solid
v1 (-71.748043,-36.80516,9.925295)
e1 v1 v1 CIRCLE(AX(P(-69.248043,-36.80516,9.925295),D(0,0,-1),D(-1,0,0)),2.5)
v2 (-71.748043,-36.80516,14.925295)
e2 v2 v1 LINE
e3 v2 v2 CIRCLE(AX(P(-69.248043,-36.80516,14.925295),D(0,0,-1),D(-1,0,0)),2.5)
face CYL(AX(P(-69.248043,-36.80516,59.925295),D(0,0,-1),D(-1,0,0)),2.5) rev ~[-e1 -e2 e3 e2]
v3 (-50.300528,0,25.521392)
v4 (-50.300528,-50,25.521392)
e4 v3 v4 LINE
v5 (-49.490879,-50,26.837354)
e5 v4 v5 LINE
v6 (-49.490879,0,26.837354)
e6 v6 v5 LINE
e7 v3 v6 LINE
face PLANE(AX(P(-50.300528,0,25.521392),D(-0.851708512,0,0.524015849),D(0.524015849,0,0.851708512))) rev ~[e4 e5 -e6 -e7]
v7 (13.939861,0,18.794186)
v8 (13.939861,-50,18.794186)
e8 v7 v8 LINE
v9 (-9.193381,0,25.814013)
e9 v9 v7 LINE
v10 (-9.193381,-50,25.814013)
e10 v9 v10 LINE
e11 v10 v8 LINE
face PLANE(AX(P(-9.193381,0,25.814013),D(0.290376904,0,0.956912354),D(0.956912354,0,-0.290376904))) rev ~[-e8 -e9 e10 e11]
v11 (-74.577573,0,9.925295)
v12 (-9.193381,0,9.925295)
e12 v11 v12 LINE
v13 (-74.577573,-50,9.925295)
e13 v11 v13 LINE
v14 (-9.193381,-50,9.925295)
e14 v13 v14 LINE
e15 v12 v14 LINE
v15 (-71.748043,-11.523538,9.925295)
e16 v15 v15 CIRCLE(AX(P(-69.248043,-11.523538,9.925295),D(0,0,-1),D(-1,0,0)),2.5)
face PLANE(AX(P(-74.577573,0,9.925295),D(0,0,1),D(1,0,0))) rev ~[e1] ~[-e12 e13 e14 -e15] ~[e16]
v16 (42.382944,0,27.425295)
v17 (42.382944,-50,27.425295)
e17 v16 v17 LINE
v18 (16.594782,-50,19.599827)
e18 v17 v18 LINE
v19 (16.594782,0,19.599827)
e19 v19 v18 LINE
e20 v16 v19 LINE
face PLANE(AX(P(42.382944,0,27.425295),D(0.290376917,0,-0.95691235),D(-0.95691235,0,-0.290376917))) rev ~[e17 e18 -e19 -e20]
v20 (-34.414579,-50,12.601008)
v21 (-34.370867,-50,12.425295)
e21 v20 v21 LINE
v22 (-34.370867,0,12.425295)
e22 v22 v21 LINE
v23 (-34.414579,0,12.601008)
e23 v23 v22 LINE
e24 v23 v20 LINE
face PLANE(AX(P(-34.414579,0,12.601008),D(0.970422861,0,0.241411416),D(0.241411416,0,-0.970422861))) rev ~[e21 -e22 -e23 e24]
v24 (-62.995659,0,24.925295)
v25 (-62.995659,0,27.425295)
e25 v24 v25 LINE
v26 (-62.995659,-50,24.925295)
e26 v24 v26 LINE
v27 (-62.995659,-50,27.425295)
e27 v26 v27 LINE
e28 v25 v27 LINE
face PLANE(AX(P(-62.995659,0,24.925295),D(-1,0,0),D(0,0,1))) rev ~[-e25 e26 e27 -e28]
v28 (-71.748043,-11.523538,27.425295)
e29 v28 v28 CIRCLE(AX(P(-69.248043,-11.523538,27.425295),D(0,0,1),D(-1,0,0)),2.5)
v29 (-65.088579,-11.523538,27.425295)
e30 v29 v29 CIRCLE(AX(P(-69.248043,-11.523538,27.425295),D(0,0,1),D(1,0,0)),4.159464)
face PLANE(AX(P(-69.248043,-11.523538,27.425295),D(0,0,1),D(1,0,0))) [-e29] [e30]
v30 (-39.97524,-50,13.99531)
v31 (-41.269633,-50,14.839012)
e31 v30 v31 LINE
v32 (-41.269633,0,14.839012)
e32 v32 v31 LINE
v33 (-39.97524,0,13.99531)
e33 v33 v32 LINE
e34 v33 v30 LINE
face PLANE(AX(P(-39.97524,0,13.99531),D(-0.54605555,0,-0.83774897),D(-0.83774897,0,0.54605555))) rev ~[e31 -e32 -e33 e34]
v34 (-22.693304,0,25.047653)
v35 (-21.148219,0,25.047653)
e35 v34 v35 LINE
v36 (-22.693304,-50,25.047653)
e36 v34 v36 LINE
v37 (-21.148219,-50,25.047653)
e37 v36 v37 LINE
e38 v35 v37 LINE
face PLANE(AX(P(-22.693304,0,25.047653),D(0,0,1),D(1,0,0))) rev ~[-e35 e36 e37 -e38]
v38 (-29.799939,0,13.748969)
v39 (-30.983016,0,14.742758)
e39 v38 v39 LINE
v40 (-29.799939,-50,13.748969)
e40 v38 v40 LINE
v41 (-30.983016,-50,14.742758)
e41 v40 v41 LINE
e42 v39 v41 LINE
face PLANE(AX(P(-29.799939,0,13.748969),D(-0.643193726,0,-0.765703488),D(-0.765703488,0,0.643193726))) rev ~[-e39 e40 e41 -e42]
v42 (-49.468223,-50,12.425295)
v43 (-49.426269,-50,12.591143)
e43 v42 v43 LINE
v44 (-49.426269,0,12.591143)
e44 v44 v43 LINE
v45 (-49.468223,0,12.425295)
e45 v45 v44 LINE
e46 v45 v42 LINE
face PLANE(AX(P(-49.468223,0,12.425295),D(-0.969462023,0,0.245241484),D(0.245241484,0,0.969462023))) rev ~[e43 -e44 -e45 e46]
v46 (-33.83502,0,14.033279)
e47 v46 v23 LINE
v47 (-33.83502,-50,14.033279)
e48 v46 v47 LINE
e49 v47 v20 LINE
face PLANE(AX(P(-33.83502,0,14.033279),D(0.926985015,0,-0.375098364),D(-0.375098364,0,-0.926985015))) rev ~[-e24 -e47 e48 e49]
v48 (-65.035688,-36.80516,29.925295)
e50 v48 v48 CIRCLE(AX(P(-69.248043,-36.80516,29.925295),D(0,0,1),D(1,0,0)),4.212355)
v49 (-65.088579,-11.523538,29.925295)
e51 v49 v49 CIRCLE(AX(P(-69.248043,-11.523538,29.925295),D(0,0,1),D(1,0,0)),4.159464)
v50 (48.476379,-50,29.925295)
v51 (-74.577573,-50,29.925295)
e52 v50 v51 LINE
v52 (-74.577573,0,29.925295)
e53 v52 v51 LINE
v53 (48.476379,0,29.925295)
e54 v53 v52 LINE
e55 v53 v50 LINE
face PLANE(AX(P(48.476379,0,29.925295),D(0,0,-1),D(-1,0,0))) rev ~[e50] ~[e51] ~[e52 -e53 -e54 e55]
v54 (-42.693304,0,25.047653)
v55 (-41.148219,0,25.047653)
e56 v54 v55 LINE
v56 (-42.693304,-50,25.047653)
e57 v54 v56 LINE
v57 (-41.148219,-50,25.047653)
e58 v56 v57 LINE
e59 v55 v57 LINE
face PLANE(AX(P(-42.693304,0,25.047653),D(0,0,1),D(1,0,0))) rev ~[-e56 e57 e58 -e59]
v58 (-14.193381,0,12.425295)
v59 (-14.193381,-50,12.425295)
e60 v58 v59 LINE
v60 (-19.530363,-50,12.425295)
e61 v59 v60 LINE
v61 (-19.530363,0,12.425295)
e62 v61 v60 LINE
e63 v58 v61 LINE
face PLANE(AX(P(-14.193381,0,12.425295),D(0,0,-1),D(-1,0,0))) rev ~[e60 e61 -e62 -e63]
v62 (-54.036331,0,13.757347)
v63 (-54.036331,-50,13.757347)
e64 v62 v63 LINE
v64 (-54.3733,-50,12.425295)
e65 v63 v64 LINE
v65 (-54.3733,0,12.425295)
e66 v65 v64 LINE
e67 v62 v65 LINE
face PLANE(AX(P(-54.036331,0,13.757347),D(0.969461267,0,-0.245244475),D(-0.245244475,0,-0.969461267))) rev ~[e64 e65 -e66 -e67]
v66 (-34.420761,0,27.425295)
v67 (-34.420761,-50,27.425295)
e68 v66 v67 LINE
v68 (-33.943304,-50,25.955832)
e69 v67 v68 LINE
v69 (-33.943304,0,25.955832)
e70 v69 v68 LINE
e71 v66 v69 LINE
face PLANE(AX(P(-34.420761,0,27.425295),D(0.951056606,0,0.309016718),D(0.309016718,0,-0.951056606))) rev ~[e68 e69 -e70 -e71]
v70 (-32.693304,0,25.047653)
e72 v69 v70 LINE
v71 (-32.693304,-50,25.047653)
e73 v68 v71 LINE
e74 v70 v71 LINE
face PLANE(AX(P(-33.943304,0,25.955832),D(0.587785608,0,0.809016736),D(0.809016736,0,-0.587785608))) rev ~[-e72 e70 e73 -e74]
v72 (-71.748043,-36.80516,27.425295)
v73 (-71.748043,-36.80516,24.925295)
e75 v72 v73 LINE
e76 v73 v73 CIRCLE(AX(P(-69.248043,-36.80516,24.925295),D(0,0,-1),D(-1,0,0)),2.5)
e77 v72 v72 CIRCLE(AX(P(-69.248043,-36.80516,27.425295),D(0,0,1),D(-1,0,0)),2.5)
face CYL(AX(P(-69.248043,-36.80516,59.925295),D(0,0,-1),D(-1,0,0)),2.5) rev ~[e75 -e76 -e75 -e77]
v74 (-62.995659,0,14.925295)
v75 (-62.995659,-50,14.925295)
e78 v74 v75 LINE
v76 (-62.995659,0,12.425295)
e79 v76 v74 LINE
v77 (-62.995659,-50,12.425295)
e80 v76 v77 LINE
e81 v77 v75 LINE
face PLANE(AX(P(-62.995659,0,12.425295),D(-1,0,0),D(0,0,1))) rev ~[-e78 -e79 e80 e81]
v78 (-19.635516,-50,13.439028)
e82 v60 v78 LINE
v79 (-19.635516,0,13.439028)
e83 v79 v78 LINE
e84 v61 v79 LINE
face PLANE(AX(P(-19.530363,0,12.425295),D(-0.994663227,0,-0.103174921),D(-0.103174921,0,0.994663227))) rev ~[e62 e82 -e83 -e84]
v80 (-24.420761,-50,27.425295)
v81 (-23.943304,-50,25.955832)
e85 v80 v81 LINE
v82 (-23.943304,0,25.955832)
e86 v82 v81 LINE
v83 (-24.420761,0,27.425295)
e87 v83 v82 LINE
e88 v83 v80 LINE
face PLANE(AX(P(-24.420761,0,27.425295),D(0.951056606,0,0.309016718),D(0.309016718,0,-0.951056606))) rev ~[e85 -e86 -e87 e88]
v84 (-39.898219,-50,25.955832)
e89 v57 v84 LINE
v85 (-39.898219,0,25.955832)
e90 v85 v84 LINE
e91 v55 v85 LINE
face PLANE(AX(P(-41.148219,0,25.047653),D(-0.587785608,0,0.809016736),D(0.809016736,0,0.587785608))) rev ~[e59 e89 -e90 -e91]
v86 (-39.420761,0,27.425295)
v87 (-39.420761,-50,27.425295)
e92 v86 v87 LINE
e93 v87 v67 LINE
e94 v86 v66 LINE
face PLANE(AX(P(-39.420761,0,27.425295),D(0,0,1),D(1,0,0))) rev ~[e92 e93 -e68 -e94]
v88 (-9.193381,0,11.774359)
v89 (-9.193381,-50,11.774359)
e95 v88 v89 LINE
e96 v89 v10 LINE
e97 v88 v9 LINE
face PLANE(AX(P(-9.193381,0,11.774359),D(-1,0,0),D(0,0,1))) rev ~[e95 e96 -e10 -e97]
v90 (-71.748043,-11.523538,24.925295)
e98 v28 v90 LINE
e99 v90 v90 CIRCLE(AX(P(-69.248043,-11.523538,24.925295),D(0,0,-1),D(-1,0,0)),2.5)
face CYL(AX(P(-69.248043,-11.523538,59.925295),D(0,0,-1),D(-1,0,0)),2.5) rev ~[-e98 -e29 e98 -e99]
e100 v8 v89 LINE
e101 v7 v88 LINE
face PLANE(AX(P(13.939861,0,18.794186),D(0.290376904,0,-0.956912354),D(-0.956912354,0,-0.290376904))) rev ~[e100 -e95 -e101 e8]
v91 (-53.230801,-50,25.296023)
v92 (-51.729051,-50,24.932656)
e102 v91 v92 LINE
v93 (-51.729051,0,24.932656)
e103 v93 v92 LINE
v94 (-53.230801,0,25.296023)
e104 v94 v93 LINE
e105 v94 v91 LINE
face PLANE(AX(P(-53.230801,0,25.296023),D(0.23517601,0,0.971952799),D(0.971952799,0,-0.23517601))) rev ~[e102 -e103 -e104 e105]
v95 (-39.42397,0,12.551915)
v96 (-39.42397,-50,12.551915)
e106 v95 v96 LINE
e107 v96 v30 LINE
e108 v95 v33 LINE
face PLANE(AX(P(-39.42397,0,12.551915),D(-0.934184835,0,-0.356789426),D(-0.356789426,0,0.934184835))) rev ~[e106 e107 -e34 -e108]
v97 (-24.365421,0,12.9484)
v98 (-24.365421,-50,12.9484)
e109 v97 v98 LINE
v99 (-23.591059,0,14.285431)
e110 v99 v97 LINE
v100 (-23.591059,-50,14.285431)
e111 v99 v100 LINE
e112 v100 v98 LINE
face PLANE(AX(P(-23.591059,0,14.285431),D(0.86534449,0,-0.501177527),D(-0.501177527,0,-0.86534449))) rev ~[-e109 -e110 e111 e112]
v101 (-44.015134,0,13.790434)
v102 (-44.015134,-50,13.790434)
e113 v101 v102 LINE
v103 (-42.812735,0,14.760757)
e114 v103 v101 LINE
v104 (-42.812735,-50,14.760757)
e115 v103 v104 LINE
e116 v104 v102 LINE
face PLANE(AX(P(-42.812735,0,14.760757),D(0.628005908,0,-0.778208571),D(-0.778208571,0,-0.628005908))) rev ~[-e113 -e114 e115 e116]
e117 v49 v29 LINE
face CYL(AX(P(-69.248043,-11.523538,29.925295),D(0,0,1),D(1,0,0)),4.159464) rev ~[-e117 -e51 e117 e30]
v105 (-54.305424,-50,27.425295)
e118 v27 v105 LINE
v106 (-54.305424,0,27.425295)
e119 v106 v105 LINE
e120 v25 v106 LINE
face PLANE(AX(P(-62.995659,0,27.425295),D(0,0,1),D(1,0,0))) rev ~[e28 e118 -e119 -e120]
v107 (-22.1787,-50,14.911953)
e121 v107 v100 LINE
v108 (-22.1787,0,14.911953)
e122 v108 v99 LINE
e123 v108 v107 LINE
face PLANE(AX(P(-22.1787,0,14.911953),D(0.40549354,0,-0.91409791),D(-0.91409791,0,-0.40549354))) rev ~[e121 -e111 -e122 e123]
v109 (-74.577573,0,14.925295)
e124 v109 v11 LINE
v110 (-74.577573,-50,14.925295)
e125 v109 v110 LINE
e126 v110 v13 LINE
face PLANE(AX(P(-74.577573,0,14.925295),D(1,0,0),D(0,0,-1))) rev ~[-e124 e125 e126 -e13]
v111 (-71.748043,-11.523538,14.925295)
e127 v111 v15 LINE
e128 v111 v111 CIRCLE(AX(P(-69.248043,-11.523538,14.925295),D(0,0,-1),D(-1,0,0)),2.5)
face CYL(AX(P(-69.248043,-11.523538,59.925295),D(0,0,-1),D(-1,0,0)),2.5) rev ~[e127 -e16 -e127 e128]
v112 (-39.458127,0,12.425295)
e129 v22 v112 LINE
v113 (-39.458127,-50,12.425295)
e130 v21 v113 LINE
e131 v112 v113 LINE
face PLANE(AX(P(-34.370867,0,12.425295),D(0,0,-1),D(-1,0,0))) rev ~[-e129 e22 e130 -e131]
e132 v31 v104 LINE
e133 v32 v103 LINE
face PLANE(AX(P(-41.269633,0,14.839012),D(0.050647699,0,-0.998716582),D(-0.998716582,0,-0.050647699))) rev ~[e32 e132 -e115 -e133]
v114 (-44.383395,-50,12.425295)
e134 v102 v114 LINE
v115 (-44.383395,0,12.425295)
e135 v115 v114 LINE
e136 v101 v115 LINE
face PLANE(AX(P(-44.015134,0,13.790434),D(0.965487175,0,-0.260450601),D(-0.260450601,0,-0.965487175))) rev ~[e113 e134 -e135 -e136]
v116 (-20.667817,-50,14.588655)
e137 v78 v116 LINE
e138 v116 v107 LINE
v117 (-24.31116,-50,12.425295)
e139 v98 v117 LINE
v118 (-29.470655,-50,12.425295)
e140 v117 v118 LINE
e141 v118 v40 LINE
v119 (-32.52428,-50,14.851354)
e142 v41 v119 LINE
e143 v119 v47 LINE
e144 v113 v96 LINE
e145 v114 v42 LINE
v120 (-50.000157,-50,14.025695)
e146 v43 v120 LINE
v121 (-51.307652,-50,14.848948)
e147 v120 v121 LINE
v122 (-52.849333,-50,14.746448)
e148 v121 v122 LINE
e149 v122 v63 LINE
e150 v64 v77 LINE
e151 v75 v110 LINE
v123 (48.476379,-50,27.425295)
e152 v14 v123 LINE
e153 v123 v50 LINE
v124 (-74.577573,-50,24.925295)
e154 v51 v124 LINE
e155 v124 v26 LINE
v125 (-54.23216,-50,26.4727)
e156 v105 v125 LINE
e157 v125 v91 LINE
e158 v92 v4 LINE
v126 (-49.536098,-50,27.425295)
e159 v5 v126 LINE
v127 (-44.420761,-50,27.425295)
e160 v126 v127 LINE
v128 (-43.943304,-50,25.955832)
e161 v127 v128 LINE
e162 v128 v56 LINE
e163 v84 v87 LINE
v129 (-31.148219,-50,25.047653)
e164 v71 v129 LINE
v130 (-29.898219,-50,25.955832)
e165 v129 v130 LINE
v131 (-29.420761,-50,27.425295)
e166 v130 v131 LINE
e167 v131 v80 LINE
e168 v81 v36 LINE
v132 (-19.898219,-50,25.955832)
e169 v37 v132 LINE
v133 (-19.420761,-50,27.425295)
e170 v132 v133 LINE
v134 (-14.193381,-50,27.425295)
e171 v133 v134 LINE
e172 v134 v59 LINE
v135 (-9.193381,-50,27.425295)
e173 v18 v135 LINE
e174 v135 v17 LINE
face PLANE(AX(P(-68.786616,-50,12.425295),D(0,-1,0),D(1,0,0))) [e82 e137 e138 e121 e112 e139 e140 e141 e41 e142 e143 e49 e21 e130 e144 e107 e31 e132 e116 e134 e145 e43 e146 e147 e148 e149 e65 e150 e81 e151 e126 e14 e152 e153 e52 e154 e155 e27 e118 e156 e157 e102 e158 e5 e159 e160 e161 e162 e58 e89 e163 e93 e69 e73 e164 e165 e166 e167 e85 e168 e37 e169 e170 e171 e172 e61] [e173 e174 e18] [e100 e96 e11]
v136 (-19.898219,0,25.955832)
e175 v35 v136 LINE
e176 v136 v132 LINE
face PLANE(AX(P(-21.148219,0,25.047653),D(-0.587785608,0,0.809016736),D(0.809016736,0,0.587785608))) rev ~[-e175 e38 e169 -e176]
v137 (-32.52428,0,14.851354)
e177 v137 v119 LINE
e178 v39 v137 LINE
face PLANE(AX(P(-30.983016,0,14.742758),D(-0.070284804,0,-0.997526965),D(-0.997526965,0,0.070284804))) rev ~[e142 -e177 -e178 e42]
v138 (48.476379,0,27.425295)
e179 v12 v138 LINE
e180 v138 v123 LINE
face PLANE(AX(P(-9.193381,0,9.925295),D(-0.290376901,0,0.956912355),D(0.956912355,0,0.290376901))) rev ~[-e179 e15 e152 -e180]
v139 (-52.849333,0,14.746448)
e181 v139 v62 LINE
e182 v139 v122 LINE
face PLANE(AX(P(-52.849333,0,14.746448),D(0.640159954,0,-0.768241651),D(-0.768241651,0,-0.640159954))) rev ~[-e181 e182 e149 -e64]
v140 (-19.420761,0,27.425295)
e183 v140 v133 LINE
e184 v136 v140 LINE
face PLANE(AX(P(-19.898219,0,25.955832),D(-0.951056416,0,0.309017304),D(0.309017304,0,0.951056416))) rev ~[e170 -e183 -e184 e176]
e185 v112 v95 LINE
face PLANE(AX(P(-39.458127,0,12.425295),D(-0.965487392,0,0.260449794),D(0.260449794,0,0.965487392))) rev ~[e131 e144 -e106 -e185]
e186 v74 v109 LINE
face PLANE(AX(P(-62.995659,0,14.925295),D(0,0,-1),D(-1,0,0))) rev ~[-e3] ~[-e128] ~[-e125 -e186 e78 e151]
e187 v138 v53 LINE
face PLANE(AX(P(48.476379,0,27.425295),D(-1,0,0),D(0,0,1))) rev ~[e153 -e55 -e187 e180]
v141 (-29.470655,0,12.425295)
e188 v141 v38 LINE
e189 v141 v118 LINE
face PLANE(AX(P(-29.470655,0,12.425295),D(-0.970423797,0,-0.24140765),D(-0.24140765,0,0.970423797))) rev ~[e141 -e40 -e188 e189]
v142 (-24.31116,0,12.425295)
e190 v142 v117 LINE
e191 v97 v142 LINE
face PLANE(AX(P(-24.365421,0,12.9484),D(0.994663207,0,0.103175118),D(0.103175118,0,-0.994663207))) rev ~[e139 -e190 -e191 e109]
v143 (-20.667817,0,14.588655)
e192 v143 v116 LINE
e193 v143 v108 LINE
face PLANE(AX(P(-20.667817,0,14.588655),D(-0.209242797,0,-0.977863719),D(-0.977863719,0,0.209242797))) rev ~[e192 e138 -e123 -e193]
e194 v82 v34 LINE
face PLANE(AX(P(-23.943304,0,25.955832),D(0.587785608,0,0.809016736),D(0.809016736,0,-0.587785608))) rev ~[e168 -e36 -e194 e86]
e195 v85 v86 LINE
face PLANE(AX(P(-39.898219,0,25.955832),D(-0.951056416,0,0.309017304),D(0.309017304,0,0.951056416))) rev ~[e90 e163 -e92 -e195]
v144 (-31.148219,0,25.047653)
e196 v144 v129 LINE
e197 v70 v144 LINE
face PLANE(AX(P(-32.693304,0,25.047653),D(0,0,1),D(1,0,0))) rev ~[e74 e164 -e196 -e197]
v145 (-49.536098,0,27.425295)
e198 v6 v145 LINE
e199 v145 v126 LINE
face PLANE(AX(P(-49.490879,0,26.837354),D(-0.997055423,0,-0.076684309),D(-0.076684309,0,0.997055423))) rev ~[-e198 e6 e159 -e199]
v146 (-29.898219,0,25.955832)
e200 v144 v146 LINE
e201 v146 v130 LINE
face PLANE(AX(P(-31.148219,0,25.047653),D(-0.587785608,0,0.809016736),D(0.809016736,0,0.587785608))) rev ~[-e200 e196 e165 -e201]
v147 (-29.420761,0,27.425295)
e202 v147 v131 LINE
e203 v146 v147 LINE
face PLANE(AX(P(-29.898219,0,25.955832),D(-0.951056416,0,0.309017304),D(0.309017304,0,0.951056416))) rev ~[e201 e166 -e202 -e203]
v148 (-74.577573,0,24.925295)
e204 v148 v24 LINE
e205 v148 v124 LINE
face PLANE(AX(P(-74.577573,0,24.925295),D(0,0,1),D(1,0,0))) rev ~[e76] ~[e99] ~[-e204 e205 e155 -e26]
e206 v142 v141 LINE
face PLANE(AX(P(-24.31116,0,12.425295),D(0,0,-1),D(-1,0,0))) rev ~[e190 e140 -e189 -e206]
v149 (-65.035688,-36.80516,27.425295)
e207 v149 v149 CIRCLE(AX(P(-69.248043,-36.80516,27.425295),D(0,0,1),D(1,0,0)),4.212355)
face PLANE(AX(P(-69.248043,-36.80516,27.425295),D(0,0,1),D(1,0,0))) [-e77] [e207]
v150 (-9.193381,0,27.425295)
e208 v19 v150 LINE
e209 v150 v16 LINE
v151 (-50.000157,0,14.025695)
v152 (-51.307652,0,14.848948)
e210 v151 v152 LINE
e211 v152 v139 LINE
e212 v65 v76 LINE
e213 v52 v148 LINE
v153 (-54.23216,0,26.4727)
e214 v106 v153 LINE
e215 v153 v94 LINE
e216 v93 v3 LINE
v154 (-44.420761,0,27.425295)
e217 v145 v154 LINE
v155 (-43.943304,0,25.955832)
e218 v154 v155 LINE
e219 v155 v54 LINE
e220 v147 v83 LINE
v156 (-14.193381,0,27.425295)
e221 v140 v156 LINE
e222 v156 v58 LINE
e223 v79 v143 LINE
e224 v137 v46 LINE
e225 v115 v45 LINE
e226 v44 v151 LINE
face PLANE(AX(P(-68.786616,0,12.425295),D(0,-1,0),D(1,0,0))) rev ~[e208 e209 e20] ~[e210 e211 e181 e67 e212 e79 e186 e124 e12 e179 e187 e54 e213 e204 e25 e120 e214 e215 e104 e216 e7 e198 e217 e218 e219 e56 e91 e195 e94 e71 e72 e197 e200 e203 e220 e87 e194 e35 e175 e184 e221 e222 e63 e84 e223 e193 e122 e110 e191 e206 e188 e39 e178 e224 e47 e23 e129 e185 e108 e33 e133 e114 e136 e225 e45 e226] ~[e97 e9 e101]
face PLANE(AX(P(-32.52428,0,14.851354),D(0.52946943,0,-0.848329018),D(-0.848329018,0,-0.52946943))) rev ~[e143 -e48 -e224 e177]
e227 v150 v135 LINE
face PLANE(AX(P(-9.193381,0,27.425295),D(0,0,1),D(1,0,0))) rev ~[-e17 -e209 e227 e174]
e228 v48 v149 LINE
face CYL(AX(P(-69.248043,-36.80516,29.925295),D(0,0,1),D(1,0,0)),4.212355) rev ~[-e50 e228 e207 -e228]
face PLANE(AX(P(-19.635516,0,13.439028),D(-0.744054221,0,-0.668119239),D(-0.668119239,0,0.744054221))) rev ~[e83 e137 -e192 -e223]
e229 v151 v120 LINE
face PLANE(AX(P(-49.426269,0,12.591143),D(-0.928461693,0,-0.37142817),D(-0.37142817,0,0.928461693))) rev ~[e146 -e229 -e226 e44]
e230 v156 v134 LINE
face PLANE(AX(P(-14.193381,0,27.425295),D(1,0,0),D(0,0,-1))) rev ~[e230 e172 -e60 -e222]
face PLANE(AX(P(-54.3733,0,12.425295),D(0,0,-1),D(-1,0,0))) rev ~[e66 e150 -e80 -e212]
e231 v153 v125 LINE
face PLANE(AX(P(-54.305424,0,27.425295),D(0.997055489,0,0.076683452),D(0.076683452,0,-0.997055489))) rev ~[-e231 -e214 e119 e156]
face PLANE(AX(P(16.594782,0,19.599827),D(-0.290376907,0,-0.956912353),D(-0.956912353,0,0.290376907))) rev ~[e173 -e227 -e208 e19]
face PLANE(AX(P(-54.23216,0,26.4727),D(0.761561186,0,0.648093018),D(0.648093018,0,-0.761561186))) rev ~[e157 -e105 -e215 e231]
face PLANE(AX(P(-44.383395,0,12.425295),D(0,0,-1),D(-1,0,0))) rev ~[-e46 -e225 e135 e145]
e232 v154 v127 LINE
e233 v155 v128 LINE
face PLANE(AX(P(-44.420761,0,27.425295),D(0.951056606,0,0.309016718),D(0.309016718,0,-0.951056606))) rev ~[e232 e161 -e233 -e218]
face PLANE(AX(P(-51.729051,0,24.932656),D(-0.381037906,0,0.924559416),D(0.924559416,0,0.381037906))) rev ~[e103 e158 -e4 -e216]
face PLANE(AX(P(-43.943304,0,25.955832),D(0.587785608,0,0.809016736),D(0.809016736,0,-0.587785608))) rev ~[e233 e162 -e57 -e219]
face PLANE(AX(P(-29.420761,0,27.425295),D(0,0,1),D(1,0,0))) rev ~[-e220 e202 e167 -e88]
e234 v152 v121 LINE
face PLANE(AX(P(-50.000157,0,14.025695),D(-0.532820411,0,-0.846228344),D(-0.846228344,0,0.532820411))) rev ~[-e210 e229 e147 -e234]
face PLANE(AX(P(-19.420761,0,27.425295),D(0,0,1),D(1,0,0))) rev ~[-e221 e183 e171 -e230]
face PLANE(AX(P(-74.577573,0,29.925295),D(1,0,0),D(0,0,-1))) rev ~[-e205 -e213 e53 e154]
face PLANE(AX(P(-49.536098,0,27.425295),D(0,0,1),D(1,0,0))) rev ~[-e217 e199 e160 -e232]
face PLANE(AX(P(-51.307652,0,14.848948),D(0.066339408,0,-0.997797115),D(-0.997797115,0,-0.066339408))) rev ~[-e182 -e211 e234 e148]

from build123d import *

# Parameters (mm, degrees)
F1_DEPTH = 50
F3_D     = 5
F3_DEPTH = 30
F4_R     = 4.159464
F4_R_2   = 2.5
F4_R_3   = 4.212355
F5_DEPTH = 2.5


with BuildPart() as f1:
    # F0 (on Front) → F1 (new body)
    with BuildSketch(Plane.XZ):
        Polygon((-74.577573, 9.925295), (-62.995659, 9.925295), (-62.995659, 12.425295), (-62.995659, 14.925295), (-74.577573, 14.925295), align=None)
        Polygon((-62.995659, 29.925295), (-74.577573, 29.925295), (-74.577573, 24.925295), (-62.995659, 24.925295), (-62.995659, 27.425295), align=None)
        Polygon((-49.536098, 27.425295), (-54.305424, 27.425295), (-54.23216, 26.4727), (-53.230801, 25.296023), (-51.729051, 24.932656), (-50.300528, 25.521392), (-49.490879, 26.837354), align=None)
        Polygon((-14.193381, 29.925295), (-62.995659, 29.925295), (-62.995659, 27.425295), (-54.305424, 27.425295), (-54.350643, 28.013235), (-53.540994, 29.329197), (-52.112471, 29.917933), (-50.610722, 29.554566), (-49.609363, 28.37789), (-49.536098, 27.425295), (-44.420761, 27.425295), (-43.943304, 28.894758), (-42.693304, 29.802936), (-41.148219, 29.802936), (-39.898219, 28.894758), (-39.420761, 27.425295), (-34.420761, 27.425295), (-33.943304, 28.894758), (-32.693304, 29.802936), (-31.148219, 29.802936), (-29.898219, 28.894758), (-29.420761, 27.425295), (-24.420761, 27.425295), (-23.943304, 28.894758), (-22.693304, 29.802936), (-21.148219, 29.802936), (-19.898219, 28.894758), (-19.420761, 27.425295), (-14.193381, 27.425295), align=None)
        Polygon((-54.350643, 28.013235), (-54.305424, 27.425295), (-49.536098, 27.425295), (-49.609363, 28.37789), (-50.610722, 29.554566), (-52.112471, 29.917933), (-53.540994, 29.329197), align=None)
        Polygon((-43.943304, 28.894758), (-44.420761, 27.425295), (-39.420761, 27.425295), (-39.898219, 28.894758), (-41.148219, 29.802936), (-42.693304, 29.802936), align=None)
        Polygon((-39.420761, 27.425295), (-44.420761, 27.425295), (-43.943304, 25.955832), (-42.693304, 25.047653), (-41.148219, 25.047653), (-39.898219, 25.955832), align=None)
        Polygon((-29.898219, 25.955832), (-29.420761, 27.425295), (-34.420761, 27.425295), (-33.943304, 25.955832), (-32.693304, 25.047653), (-31.148219, 25.047653), align=None)
        Polygon((-34.420761, 27.425295), (-29.420761, 27.425295), (-29.898219, 28.894758), (-31.148219, 29.802936), (-32.693304, 29.802936), (-33.943304, 28.894758), align=None)
        Polygon((-24.420761, 27.425295), (-19.420761, 27.425295), (-19.898219, 28.894758), (-21.148219, 29.802936), (-22.693304, 29.802936), (-23.943304, 28.894758), align=None)
        Polygon((-19.898219, 25.955832), (-19.420761, 27.425295), (-24.420761, 27.425295), (-23.943304, 25.955832), (-22.693304, 25.047653), (-21.148219, 25.047653), align=None)
        Polygon((-54.036331, 13.757347), (-54.3733, 12.425295), (-49.468223, 12.425295), (-49.426269, 12.591143), (-50.000157, 14.025695), (-51.307652, 14.848948), (-52.849333, 14.746448), align=None)
        Polygon((-49.468223, 12.425295), (-54.3733, 12.425295), (-54.415254, 12.259447), (-53.841365, 10.824895), (-52.533871, 10.001641), (-50.99219, 10.104141), (-49.805191, 11.093243), align=None)
        Polygon((-44.383395, 12.425295), (-39.458127, 12.425295), (-39.42397, 12.551915), (-39.97524, 13.99531), (-41.269633, 14.839012), (-42.812735, 14.760757), (-44.015134, 13.790434), align=None)
        Polygon((-39.826389, 11.060155), (-39.458127, 12.425295), (-44.383395, 12.425295), (-44.417553, 12.298674), (-43.866282, 10.85528), (-42.571889, 10.011577), (-41.028787, 10.089833), align=None)
        Polygon((-34.370867, 12.425295), (-29.470655, 12.425295), (-29.799939, 13.748969), (-30.983016, 14.742758), (-32.52428, 14.851354), (-33.83502, 14.033279), (-34.414579, 12.601008), align=None)
        Polygon((-29.426944, 12.249582), (-29.470655, 12.425295), (-34.370867, 12.425295), (-34.041583, 11.10162), (-32.858506, 10.107832), (-31.317242, 9.999235), (-30.006502, 10.817311), align=None)
        Polygon((-24.31116, 12.425295), (-19.530363, 12.425295), (-19.635516, 13.439028), (-20.667817, 14.588655), (-22.1787, 14.911953), (-23.591059, 14.285431), (-24.365421, 12.9484), align=None)
        Polygon((-19.476102, 11.902189), (-19.530363, 12.425295), (-24.31116, 12.425295), (-24.206006, 11.411561), (-23.173706, 10.261934), (-21.662823, 9.938637), (-20.250464, 10.565158), align=None)
        Polygon((-14.193381, 9.925295), (-14.193381, 12.425295), (-19.530363, 12.425295), (-19.476102, 11.902189), (-20.250464, 10.565158), (-21.662823, 9.938637), (-23.173706, 10.261934), (-24.206006, 11.411561), (-24.31116, 12.425295), (-29.470655, 12.425295), (-29.426944, 12.249582), (-30.006502, 10.817311), (-31.317242, 9.999235), (-32.858506, 10.107832), (-34.041583, 11.10162), (-34.370867, 12.425295), (-39.458127, 12.425295), (-39.826389, 11.060155), (-41.028787, 10.089833), (-42.571889, 10.011577), (-43.866282, 10.85528), (-44.417553, 12.298674), (-44.383395, 12.425295), (-49.468223, 12.425295), (-49.805191, 11.093243), (-50.99219, 10.104141), (-52.533871, 10.001641), (-53.841365, 10.824895), (-54.415254, 12.259447), (-54.3733, 12.425295), (-62.995659, 12.425295), (-62.995659, 9.925295), align=None)
        Polygon((-9.193381, 29.925295), (-14.193381, 29.925295), (-14.193381, 27.425295), (-14.193381, 12.425295), (-14.193381, 9.925295), (-9.193381, 9.925295), (-9.193381, 11.774359), (-9.193381, 25.814013), (-9.193381, 27.425295), align=None)
        Polygon((48.476379, 29.925295), (-9.193381, 29.925295), (-9.193381, 27.425295), (42.382944, 27.425295), (48.476379, 27.425295), align=None)
        Polygon((16.594782, 19.599827), (-9.193381, 27.425295), (-9.193381, 25.814013), (13.939861, 18.794186), align=None)
        Polygon((48.476379, 27.425295), (42.382944, 27.425295), (16.594782, 19.599827), (13.939861, 18.794186), (-9.193381, 11.774359), (-9.193381, 9.925295), align=None)
    extrude(amount=F1_DEPTH)

    # F3
    with Locations(Plane.XY.offset(29.925295)):
        with Locations((-69.248043, -11.523538), (-69.248043, -36.80516)):
            Hole(F3_D / 2, depth=F3_DEPTH)

    # F4 (on face) → F5 (cut)
    with BuildSketch(Plane.XY.offset(29.925295)):
        with Locations((-69.248043, -11.523538)):
            Circle(F4_R)
        with Locations((-69.248043, -11.523538)):
            Circle(F4_R_2, mode=Mode.SUBTRACT)
        with Locations((-69.248043, -36.80516)):
            Circle(F4_R_3)
        with Locations((-69.248043, -36.80516)):
            Circle(F4_R_2, mode=Mode.SUBTRACT)
    extrude(amount=-F5_DEPTH, mode=Mode.SUBTRACT)


solid = f1.part
